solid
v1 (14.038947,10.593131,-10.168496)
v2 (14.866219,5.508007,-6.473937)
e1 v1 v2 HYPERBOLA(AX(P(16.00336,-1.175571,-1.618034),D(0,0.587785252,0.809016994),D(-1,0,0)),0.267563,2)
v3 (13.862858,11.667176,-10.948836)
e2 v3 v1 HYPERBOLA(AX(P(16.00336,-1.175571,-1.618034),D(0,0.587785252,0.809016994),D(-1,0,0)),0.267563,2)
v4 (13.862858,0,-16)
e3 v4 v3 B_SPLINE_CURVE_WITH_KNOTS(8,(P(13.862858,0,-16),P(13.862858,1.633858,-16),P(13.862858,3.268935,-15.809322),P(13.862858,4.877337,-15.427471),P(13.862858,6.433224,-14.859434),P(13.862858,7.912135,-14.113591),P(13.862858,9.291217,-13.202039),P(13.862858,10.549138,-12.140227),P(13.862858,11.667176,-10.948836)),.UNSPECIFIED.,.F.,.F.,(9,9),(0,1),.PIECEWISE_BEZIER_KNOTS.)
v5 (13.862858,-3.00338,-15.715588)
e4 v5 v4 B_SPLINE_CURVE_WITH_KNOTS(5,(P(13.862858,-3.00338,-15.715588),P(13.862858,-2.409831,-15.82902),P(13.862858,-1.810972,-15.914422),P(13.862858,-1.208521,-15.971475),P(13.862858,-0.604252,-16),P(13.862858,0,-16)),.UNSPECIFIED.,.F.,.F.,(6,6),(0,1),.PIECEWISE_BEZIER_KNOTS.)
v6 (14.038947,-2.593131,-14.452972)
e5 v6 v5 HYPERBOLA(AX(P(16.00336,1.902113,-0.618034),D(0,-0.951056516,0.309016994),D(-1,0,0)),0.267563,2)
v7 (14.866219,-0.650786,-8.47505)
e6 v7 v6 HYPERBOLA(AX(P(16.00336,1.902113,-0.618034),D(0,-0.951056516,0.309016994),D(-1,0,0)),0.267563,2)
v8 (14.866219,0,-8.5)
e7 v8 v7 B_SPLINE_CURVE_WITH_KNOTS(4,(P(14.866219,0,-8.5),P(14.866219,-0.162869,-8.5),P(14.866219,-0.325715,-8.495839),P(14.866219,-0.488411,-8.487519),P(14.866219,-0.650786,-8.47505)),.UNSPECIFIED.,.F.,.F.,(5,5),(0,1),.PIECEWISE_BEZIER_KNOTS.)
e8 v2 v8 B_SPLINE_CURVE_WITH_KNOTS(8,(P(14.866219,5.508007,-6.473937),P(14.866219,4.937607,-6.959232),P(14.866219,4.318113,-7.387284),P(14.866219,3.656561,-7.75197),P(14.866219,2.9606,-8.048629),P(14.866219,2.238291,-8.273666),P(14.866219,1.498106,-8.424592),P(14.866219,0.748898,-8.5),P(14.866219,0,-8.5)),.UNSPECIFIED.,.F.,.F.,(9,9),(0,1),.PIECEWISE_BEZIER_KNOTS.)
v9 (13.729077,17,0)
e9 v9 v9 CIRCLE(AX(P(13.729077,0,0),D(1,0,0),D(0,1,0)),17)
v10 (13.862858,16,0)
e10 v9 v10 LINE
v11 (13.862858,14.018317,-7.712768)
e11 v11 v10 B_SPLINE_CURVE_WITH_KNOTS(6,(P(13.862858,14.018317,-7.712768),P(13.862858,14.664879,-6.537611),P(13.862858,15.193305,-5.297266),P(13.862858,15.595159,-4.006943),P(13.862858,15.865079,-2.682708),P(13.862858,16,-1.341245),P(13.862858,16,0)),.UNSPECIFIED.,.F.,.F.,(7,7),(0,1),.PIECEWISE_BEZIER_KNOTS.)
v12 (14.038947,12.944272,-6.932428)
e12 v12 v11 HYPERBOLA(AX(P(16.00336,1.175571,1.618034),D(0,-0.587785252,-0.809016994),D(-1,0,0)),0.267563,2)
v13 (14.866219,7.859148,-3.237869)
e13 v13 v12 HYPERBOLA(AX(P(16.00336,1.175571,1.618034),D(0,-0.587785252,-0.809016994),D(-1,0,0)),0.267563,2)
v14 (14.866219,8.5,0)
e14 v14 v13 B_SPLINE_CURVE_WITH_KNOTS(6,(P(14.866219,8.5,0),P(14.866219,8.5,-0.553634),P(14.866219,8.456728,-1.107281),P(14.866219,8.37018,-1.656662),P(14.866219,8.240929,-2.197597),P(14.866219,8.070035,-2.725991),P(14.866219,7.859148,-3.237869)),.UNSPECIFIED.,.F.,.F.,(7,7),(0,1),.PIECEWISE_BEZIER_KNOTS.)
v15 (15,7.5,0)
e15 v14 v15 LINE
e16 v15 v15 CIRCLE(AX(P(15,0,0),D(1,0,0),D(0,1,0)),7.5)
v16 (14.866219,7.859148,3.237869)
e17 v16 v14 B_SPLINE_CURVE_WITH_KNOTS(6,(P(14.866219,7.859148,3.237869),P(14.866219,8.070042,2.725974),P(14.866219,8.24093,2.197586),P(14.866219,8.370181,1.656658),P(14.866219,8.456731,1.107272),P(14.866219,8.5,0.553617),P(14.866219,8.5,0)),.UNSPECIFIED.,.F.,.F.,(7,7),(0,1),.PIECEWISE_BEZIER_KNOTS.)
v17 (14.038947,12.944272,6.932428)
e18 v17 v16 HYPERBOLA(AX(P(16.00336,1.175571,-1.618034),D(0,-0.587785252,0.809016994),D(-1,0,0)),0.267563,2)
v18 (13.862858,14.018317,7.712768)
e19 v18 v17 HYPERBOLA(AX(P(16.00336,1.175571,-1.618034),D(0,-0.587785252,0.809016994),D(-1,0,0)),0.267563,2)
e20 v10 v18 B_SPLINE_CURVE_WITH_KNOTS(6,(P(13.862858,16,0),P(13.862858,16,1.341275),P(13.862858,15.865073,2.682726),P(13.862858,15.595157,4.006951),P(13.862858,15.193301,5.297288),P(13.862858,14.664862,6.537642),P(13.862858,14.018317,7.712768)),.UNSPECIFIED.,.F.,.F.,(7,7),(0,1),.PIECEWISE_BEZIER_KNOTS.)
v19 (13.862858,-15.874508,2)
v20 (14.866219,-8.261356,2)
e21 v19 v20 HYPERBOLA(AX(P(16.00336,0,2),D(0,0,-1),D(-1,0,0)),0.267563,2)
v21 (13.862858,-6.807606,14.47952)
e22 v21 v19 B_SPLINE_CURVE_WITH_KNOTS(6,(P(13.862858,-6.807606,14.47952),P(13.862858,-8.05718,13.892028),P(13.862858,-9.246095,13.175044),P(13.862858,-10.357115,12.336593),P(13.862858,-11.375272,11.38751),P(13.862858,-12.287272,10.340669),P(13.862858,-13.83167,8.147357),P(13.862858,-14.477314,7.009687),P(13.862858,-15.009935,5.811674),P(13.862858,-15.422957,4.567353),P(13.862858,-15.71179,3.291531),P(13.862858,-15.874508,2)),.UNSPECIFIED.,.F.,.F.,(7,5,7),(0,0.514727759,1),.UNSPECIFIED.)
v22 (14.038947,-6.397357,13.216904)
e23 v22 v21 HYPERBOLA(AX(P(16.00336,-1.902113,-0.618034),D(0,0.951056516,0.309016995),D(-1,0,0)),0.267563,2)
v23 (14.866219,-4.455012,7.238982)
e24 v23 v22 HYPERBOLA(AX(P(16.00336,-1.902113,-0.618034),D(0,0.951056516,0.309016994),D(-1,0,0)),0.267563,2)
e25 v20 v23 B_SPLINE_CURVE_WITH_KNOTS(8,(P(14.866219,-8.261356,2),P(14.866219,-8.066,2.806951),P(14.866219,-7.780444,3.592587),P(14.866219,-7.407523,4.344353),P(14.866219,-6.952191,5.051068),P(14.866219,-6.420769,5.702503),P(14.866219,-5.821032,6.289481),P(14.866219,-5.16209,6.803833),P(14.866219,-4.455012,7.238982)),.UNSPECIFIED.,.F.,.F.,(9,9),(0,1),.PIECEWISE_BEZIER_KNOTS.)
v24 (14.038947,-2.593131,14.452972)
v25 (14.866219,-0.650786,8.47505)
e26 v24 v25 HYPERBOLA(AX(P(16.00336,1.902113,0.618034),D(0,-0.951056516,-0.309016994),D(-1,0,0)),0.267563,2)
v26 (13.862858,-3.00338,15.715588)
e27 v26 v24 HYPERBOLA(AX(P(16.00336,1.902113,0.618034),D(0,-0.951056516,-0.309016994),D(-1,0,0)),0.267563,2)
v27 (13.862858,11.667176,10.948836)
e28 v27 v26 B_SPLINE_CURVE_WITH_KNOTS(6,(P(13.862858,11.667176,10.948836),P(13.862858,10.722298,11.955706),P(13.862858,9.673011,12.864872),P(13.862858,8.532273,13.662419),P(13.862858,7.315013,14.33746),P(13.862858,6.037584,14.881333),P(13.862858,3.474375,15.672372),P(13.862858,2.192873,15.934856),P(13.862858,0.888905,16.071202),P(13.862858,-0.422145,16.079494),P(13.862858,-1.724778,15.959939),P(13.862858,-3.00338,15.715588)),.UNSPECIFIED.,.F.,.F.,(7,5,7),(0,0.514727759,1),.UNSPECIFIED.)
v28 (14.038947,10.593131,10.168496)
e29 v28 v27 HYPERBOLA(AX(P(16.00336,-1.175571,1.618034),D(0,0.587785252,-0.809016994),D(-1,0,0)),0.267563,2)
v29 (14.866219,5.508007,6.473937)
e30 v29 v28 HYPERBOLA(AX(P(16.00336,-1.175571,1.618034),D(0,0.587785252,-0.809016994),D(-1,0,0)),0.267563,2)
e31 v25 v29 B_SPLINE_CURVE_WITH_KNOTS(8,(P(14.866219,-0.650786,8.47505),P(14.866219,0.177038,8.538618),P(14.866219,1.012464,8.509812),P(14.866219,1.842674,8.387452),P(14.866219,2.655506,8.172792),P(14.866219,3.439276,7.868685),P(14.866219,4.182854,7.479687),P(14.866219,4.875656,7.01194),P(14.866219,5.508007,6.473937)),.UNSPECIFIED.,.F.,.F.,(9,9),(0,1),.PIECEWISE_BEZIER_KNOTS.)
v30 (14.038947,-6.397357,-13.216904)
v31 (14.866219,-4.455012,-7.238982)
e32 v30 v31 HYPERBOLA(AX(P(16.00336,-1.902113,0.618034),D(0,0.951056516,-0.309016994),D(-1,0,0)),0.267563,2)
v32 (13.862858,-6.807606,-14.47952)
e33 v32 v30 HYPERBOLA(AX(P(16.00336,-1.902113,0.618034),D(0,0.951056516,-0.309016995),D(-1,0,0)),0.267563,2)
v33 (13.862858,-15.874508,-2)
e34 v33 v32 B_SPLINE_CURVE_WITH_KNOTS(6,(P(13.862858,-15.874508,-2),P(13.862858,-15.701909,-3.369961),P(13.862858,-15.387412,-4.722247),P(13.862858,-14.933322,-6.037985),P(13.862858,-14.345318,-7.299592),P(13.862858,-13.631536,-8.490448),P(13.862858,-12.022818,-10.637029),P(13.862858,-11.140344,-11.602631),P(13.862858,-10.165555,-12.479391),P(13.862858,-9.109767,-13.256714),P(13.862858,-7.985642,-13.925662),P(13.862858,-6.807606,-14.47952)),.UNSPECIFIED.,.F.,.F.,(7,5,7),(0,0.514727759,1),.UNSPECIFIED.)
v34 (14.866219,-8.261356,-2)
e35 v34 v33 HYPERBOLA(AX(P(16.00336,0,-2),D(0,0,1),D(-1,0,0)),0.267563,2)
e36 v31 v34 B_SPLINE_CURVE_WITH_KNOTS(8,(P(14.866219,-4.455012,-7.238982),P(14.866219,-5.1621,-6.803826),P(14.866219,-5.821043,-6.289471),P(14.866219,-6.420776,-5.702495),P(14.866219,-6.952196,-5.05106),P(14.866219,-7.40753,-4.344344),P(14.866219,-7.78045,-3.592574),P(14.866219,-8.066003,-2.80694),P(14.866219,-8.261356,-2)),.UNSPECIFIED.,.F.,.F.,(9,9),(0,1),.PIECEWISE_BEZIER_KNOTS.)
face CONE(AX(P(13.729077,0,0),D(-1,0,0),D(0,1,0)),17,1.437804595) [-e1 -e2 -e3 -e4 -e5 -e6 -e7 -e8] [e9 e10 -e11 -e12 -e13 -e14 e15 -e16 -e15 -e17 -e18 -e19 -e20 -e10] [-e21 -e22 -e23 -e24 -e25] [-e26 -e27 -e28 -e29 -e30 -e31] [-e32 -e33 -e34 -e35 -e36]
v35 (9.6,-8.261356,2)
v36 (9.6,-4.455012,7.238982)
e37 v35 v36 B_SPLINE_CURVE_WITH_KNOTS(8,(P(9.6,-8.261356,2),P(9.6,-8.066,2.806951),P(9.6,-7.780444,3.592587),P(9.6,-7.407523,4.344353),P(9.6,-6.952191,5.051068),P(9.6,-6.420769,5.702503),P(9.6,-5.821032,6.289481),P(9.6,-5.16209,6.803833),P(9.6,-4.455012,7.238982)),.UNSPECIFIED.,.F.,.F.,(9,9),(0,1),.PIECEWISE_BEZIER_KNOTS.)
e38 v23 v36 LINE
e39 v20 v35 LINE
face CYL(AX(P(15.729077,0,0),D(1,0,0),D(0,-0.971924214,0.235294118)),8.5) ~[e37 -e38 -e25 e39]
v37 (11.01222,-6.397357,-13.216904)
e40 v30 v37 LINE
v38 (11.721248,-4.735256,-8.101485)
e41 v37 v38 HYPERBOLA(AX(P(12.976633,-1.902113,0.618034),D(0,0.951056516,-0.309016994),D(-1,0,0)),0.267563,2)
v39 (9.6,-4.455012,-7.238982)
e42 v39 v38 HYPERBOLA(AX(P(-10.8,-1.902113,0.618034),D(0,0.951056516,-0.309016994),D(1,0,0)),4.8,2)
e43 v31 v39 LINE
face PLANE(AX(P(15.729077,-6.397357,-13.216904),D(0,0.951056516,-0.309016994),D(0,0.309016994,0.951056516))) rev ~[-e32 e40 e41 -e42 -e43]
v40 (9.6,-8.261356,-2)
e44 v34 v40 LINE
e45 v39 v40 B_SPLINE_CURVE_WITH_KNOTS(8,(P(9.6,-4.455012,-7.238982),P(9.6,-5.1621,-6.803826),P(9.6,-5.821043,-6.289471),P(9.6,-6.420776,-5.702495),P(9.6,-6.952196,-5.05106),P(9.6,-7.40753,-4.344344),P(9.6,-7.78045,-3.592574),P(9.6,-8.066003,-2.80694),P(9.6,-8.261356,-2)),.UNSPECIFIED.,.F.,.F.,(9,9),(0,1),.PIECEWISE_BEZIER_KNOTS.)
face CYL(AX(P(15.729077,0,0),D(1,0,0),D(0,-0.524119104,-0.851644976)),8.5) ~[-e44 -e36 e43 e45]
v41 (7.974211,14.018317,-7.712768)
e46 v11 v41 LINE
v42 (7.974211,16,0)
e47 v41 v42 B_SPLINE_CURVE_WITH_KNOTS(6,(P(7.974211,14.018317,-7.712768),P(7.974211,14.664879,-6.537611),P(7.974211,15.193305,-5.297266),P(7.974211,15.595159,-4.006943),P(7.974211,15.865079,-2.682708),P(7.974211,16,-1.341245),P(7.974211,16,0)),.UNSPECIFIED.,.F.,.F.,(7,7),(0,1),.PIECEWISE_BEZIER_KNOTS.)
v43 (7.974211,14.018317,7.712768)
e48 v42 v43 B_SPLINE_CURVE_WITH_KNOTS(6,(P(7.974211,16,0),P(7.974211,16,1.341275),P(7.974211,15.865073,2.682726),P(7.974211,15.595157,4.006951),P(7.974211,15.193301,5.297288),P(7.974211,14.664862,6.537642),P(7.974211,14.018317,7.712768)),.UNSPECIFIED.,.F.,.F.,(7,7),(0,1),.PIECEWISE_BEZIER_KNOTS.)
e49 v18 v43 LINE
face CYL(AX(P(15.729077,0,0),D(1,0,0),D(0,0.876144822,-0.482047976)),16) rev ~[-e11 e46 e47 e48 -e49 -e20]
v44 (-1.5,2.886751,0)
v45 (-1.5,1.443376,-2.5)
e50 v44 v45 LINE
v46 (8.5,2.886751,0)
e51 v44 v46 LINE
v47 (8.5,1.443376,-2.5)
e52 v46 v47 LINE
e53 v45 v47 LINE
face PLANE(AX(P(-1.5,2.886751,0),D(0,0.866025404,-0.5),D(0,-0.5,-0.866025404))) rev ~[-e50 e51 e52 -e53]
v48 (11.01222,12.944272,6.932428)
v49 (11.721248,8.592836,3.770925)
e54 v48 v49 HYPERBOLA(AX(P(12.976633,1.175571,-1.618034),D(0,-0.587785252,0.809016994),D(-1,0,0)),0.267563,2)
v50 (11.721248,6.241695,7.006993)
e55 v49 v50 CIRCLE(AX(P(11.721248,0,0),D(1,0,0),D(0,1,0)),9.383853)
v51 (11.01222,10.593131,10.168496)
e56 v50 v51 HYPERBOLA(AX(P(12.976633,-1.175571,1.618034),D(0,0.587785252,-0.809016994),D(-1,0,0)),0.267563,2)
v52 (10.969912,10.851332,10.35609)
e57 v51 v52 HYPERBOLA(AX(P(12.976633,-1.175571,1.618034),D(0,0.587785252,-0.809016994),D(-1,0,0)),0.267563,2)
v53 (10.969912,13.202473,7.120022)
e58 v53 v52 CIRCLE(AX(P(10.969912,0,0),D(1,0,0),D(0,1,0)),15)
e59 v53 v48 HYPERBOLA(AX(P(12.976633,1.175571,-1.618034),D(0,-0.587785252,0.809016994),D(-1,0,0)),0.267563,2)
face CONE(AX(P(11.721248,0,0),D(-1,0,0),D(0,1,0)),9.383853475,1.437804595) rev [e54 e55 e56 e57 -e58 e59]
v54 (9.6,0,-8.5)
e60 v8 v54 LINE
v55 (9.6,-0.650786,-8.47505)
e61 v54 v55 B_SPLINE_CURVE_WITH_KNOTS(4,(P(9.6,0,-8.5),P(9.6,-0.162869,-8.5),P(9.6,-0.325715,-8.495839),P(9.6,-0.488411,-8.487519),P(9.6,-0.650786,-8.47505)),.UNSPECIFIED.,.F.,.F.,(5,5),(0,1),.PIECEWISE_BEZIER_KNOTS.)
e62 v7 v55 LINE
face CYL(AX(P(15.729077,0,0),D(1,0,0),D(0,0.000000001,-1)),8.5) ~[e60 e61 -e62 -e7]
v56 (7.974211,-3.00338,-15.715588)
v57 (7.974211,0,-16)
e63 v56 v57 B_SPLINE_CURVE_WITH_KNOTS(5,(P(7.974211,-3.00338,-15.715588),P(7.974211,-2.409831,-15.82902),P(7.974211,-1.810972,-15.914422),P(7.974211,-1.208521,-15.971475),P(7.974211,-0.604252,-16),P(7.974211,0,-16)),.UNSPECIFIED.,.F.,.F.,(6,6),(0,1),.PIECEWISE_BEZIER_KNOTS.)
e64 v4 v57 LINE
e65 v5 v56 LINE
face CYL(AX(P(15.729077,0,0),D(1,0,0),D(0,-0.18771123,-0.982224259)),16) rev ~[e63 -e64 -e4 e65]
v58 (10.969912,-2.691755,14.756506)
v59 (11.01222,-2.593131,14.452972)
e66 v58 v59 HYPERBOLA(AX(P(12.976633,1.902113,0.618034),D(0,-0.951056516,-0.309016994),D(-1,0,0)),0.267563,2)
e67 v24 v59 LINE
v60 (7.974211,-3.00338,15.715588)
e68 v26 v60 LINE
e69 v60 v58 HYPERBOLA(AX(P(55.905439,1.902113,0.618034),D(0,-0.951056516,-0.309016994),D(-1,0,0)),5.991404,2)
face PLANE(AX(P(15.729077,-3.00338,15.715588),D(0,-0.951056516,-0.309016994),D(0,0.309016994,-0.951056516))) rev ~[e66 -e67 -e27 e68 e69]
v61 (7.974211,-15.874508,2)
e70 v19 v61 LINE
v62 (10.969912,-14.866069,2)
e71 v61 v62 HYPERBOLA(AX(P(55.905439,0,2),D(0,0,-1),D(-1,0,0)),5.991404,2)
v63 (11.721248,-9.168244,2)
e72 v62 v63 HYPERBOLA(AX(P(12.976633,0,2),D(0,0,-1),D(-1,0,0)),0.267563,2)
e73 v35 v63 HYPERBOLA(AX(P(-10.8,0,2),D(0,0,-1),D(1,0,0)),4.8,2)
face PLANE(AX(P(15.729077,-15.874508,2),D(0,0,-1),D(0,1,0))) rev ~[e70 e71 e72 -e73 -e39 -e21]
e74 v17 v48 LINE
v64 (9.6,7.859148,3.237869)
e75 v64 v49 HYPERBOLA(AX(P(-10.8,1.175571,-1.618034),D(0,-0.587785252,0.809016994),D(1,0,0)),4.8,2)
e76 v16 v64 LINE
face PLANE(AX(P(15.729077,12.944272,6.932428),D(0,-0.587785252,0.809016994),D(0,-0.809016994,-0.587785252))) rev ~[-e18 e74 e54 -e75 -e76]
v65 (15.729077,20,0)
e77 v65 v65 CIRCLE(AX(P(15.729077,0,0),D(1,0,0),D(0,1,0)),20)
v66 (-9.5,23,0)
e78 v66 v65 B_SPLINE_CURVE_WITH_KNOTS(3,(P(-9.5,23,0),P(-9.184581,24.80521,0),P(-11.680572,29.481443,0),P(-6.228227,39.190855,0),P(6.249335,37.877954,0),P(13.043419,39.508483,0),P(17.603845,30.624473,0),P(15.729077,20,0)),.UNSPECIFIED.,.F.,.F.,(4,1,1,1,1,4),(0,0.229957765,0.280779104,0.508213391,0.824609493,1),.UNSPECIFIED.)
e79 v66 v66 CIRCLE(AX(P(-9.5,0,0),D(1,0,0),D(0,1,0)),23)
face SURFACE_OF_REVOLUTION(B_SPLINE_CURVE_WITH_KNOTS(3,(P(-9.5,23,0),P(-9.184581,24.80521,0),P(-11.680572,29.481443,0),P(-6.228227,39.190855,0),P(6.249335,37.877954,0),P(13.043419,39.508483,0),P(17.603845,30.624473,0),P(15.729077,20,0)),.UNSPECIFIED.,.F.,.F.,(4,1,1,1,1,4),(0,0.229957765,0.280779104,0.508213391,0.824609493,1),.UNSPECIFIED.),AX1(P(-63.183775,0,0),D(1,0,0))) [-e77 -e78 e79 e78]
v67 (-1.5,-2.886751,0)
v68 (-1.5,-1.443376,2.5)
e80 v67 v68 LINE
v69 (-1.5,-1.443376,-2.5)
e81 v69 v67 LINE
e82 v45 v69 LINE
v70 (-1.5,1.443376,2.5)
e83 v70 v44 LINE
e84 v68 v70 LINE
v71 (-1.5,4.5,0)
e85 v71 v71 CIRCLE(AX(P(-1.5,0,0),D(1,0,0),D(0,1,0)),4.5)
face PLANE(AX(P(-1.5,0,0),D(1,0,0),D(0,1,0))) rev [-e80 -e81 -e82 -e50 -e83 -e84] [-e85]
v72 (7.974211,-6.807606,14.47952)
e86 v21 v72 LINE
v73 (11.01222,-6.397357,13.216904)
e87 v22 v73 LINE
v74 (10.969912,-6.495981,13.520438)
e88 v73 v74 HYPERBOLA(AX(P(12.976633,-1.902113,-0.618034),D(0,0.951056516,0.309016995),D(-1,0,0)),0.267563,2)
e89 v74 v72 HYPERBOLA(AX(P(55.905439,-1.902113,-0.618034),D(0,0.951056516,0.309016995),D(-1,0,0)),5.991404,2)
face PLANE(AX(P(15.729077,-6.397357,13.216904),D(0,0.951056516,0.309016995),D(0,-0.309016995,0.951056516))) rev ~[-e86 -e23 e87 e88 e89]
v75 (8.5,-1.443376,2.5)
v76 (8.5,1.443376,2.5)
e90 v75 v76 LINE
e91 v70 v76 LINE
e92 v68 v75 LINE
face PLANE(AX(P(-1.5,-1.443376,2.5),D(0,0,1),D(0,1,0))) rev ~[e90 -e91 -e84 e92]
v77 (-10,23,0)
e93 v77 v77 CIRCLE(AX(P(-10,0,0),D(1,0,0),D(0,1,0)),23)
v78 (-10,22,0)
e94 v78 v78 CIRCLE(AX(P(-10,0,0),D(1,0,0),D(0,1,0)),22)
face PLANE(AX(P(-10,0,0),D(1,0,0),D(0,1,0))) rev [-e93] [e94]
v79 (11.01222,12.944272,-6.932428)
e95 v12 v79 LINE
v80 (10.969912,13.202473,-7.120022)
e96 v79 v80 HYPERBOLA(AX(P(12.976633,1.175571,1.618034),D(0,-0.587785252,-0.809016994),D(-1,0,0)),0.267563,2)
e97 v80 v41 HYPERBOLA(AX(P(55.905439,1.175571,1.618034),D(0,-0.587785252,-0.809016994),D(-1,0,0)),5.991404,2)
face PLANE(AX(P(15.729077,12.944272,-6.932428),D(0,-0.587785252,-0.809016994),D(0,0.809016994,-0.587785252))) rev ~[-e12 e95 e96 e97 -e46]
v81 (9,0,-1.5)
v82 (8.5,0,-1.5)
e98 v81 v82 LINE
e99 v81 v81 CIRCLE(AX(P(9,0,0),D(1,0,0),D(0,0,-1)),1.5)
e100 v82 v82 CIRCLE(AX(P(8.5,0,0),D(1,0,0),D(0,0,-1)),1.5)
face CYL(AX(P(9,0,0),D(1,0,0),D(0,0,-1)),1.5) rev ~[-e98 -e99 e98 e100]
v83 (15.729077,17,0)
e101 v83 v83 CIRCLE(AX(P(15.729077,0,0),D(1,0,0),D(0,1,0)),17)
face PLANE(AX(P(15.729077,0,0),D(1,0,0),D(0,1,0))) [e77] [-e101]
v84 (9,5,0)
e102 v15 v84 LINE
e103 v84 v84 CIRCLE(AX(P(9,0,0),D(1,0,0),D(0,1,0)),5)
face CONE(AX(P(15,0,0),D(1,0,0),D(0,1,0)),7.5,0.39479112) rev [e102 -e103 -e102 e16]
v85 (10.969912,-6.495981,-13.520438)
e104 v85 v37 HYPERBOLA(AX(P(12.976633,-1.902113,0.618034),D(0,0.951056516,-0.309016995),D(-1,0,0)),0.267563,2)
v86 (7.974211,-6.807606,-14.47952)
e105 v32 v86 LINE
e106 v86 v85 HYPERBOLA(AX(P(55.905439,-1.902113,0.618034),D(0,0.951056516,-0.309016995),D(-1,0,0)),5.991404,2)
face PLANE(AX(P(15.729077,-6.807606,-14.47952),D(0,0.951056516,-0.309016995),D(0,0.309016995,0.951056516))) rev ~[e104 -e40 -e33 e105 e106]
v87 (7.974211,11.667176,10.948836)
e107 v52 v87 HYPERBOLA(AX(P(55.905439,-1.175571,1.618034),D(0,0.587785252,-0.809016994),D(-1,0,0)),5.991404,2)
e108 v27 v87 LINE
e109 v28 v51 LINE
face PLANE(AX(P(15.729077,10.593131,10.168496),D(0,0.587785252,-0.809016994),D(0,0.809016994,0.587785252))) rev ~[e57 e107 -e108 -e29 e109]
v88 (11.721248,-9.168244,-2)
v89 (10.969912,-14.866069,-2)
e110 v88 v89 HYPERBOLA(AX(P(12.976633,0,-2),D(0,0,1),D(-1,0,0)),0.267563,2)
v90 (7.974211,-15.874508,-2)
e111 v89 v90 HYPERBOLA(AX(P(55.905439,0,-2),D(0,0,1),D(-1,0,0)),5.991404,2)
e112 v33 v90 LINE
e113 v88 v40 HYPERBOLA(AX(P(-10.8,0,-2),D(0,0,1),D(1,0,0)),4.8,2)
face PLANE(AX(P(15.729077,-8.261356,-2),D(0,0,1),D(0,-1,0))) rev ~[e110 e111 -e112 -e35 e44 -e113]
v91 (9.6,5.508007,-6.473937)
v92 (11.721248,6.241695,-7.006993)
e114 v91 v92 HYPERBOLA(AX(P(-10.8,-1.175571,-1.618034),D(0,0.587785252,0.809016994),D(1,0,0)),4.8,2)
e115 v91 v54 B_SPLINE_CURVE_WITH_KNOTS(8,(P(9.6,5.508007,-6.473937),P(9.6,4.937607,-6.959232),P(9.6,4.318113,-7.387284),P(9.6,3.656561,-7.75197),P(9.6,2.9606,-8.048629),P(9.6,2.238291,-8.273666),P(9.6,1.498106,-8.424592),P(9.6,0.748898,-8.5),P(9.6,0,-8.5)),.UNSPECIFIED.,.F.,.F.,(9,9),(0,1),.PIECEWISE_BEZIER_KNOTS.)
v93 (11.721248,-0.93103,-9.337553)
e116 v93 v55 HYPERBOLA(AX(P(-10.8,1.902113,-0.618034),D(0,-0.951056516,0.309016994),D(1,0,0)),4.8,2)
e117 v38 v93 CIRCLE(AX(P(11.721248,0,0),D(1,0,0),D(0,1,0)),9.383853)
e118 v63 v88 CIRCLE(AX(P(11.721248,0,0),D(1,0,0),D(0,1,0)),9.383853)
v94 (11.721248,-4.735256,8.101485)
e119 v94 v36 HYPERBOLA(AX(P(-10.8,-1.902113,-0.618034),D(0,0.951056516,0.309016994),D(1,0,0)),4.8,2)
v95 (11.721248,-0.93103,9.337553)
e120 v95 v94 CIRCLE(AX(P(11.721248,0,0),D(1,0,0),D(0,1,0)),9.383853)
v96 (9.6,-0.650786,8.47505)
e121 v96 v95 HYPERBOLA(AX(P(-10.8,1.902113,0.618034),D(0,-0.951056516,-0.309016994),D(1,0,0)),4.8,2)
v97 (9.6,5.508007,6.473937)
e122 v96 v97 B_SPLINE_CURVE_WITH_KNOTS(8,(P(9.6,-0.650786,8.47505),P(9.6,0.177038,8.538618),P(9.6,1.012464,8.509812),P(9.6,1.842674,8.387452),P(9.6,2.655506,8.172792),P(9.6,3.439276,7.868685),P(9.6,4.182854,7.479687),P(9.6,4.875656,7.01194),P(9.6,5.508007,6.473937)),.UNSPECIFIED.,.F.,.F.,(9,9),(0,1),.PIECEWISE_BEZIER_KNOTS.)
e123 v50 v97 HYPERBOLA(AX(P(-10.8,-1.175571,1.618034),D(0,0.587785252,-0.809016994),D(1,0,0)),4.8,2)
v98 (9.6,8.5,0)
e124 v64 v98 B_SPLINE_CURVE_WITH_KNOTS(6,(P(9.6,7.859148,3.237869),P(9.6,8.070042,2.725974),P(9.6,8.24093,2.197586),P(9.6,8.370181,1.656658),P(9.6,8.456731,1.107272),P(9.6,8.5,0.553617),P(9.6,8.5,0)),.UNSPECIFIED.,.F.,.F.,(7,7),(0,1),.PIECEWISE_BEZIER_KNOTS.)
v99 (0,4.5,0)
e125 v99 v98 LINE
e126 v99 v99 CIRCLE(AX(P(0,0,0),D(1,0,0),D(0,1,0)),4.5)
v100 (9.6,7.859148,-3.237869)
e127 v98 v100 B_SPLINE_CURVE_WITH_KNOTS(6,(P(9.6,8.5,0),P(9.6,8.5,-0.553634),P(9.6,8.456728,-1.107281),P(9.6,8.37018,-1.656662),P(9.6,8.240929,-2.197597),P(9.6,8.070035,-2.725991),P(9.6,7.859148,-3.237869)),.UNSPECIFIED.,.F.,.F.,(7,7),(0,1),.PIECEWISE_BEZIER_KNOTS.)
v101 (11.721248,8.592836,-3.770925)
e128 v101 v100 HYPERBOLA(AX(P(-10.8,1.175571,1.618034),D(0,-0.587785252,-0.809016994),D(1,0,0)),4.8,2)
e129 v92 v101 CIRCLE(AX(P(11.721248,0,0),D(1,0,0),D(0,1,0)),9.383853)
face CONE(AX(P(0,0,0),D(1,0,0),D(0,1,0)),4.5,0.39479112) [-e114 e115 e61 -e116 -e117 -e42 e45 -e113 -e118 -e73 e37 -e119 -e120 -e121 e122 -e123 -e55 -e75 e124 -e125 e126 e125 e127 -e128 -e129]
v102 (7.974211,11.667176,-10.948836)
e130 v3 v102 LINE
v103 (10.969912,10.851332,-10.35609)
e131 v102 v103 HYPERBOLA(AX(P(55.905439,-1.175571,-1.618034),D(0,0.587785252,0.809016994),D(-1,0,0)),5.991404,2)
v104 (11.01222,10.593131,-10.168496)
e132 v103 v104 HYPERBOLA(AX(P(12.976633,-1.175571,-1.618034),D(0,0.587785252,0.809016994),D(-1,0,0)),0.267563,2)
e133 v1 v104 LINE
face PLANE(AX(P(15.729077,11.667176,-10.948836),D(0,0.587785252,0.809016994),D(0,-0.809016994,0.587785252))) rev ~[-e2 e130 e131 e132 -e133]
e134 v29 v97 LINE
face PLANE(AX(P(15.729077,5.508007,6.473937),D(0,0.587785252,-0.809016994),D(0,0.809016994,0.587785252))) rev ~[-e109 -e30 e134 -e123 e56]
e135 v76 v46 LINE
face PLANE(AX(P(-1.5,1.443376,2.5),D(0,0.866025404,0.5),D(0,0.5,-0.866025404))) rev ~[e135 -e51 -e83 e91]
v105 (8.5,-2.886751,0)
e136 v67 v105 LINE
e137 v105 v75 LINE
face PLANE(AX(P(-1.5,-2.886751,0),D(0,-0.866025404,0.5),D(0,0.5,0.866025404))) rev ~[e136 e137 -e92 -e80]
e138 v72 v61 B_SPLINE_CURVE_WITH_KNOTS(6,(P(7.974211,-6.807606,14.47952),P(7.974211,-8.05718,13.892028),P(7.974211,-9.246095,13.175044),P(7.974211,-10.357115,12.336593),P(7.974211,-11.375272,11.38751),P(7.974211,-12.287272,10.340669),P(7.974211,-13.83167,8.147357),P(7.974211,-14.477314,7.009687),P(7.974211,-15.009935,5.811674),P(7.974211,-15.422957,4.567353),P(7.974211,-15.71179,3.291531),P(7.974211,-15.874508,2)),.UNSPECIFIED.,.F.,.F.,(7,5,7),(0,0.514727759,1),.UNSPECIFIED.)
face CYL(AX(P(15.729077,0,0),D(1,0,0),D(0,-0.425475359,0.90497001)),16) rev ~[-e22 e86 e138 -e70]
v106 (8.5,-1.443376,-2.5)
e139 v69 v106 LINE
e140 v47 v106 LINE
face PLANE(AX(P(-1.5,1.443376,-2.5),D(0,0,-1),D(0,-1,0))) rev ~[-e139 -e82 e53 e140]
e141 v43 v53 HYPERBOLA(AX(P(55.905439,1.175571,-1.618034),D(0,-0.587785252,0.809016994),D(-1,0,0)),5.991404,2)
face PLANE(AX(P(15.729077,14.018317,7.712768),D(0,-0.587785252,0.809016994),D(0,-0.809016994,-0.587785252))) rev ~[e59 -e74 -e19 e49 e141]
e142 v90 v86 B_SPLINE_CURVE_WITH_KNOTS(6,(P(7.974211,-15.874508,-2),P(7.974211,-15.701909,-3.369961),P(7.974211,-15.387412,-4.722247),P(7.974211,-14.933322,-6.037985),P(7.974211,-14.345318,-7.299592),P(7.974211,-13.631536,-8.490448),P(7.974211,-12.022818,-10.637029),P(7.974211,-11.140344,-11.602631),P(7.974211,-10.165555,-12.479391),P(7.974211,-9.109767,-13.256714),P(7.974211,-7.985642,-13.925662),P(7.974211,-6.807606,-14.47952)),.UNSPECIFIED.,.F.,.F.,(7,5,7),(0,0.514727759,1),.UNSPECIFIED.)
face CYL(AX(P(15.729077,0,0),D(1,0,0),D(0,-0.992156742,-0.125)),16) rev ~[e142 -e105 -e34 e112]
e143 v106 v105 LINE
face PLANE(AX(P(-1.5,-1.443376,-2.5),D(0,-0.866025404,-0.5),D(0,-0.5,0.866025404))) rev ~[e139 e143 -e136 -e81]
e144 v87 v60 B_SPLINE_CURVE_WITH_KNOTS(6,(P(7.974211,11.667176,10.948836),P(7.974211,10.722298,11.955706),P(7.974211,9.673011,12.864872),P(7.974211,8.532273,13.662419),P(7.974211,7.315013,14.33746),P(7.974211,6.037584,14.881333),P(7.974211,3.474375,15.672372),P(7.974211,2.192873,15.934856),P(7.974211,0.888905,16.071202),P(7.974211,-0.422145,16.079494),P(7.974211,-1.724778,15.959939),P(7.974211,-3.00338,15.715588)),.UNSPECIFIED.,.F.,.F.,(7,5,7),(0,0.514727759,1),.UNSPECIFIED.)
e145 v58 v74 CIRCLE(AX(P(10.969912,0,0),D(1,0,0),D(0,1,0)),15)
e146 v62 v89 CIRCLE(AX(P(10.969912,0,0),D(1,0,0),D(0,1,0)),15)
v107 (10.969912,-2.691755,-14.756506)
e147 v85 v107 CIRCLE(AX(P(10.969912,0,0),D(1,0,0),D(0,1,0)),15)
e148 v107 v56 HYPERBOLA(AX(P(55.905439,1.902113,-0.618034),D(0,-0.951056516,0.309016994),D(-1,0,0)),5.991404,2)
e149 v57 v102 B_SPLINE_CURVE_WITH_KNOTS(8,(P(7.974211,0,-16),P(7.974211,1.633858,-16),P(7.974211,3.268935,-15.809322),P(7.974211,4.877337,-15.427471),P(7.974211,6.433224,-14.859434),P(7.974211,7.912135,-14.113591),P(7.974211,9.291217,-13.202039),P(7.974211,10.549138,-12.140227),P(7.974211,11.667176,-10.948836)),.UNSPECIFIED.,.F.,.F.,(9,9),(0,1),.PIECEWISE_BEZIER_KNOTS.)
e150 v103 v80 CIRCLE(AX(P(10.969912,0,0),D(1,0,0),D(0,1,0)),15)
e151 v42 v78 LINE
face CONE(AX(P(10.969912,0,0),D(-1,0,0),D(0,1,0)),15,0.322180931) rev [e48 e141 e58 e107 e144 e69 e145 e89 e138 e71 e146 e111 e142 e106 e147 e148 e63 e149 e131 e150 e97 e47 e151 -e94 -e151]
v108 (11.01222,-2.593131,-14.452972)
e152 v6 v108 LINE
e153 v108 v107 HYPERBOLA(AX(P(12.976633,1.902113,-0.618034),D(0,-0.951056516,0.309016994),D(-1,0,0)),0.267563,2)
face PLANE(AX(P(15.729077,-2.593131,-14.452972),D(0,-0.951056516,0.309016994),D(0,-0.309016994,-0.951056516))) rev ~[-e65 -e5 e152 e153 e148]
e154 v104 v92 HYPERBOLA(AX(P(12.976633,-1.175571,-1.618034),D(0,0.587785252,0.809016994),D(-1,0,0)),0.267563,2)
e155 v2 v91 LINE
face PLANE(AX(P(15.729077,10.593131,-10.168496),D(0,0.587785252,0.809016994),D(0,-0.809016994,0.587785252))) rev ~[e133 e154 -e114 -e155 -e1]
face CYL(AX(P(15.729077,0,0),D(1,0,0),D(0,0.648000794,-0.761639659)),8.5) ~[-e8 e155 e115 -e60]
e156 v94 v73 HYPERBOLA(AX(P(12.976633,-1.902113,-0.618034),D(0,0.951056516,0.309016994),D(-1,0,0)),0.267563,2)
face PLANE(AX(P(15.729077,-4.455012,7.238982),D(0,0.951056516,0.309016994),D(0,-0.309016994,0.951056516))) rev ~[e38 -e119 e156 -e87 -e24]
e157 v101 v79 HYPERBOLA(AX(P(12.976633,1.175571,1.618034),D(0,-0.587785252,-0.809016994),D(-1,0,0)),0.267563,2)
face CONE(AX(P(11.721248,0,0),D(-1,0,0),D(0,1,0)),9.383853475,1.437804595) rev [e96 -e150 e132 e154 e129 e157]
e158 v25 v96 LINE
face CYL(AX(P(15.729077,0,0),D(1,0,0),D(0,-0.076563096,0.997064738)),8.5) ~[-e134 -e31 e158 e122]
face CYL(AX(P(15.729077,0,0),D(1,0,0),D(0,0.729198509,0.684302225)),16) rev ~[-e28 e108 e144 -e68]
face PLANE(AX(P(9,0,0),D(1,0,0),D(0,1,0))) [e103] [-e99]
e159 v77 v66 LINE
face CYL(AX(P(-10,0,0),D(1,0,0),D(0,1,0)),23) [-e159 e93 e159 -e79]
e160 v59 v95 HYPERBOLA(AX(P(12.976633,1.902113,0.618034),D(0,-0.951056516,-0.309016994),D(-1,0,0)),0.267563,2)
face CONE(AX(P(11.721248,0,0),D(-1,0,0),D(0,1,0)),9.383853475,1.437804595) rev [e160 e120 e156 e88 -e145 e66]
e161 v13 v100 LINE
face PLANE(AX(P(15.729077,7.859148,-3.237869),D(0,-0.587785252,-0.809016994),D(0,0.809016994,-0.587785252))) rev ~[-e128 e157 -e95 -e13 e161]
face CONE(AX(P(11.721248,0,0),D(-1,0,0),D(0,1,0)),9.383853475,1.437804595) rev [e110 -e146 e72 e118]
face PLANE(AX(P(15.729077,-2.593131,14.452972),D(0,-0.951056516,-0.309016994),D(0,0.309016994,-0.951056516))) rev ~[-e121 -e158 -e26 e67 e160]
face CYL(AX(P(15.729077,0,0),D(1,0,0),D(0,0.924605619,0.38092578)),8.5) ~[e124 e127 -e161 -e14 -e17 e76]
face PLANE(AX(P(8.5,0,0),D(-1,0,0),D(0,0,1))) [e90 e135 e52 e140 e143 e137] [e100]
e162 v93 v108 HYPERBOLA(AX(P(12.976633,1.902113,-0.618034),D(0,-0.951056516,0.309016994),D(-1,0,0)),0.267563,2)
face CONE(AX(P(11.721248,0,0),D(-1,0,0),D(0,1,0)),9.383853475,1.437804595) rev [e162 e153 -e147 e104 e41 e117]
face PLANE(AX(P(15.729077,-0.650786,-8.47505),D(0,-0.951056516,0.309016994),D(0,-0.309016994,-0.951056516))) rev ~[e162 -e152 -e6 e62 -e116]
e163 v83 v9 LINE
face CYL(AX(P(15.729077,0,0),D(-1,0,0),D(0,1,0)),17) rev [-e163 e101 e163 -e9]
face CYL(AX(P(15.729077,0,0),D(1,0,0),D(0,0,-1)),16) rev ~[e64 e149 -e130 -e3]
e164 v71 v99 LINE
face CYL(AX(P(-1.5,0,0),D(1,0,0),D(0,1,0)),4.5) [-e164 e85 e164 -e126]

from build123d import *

# Parameters (mm, degrees)
CUT_EXTRUDE1_REACH = 21.23
SKETCH3_R          = 1.5
CUT_EXTRUDE2_DEPTH = 26.95888467
CUT_EXTRUDE3_DEPTH = 10


with BuildPart() as part:
    # Sketch2 → Revolve1 (revolve)
    with BuildSketch(Plane.XY):
        with BuildLine():
            Line((0, 4.5), (11.721248341, 9.383853475))
            Line((11.721248341, 9.383853475), (10.96991248, 15))
            Line((10.96991248, 15), (-10, 22))
            Line((-10, 22), (-10, 23))
            Line((-10, 23), (-9.5, 23))
            add(Edge.make_bspline(
                [(-9.5, 23), (-9.184580705, 24.805210342), (-11.680572374, 29.481442907), (-6.228226752, 39.190854706), (6.249334684, 37.877953806), (13.043419089, 39.508483339), (17.603844738, 30.624473337), (15.729076842, 20)],
                knots=[0, 0, 0, 0, 0.229957765, 0.280779104, 0.508213391, 0.824609493, 1, 1, 1, 1], degree=3))
            Line((15.729076842, 20), (15.729076842, 17))
            Line((15.729076842, 17), (13.729076842, 17))
            Line((13.729076842, 17), (15, 7.5))
            Line((15, 7.5), (9, 5))
            Line((9, 5), (9, 0))
            Line((9, 0), (-1.5, 0))
            Line((-1.5, 0), (-1.5, 4.5))
            Line((-1.5, 4.5), (0, 4.5))
        make_face()
    revolve(axis=Axis((-63.183775164, 0, 0), (1, 0, 0)))

    # Sketch3 → Cut-Extrude1 (cut, up to next)
    with BuildSketch(Plane(origin=(9, 0, 0), x_dir=(0, 0, -1), z_dir=(1, 0, 0)), mode=Mode.PRIVATE) as cut_extrude1_sk1:
        Circle(SKETCH3_R)
    cut_extrude1_tool1 = extrude(cut_extrude1_sk1.sketch, amount=-CUT_EXTRUDE1_REACH, mode=Mode.PRIVATE) & part.part
    add(cut_extrude1_tool1.solids().sort_by_distance((9, 0, 0))[0], mode=Mode.SUBTRACT)

    # Sketch4 → Cut-Extrude2 (cut, through all)
    with BuildSketch(Plane(origin=(15.729076842, 0, 0), x_dir=(0, 0, -1), z_dir=(1, 0, 0))):
        with BuildLine():
            Line((-6.932428082, 12.94427191), (6.932428082, 12.94427191))
            Line((6.932428082, 12.94427191), (7.712767623, 14.018317146))
            ThreePointArc((7.712767623, 14.018317146), (0, 16), (-7.712767623, 14.018317146))
            Line((-7.712767623, 14.018317146), (-6.932428082, 12.94427191))
        make_face()
        with BuildLine():
            Line((-6.932428082, 12.94427191), (-3.237869127, 7.85914776))
            ThreePointArc((-3.237869127, 7.85914776), (0, 8.5), (3.237869127, 7.85914776))
            Line((3.237869127, 7.85914776), (6.932428082, 12.94427191))
            Line((6.932428082, 12.94427191), (-6.932428082, 12.94427191))
        make_face()
        with BuildLine():
            Line((10.168496059, 10.593130901), (14.452972238, -2.593130901))
            Line((14.452972238, -2.593130901), (15.715588138, -3.003379675))
            ThreePointArc((15.715588138, -3.003379675), (15.92873834, -1.508408067), (16, 0))
            ThreePointArc((16, 0), (14.683006668, 6.356832167), (10.9488356, 11.667176137))
            Line((10.9488356, 11.667176137), (10.168496059, 10.593130901))
        make_face()
        with BuildLine():
            Line((8.475050276, -0.650786313), (14.452972238, -2.593130901))
            Line((14.452972238, -2.593130901), (10.168496059, 10.593130901))
            Line((10.168496059, 10.593130901), (6.473937104, 5.508006751))
            ThreePointArc((6.473937104, 5.508006751), (7.977420178, 2.934410896), (8.5, 0))
            ThreePointArc((8.5, 0), (8.493760279, -0.325632198), (8.475050276, -0.650786313))
        make_face()
        with BuildLine():
            Line((13.216904261, -6.397356966), (2, -14.546914944))
            Line((2, -14.546914944), (2, -15.874507866))
            ThreePointArc((2, -15.874507866), (9.404564037, -12.94427191), (14.479520161, -6.807605741))
            Line((14.479520161, -6.807605741), (13.216904261, -6.397356966))
        make_face()
        with BuildLine():
            Line((2, -8.261355821), (2, -14.546914944))
            Line((2, -14.546914944), (13.216904261, -6.397356966))
            Line((13.216904261, -6.397356966), (7.238982298, -4.455012378))
            ThreePointArc((7.238982298, -4.455012378), (4.996174644, -6.876644452), (2, -8.261355821))
        make_face()
        with BuildLine():
            Line((-2, -15.874507866), (-2, -14.546914944))
            Line((-2, -14.546914944), (-13.216904261, -6.397356966))
            Line((-13.216904261, -6.397356966), (-14.479520161, -6.807605741))
            ThreePointArc((-14.479520161, -6.807605741), (-9.404564037, -12.94427191), (-2, -15.874507866))
        make_face()
        with BuildLine():
            Line((-13.216904261, -6.397356966), (-2, -14.546914944))
            Line((-2, -14.546914944), (-2, -8.261355821))
            ThreePointArc((-2, -8.261355821), (-4.996174644, -6.876644452), (-7.238982298, -4.455012378))
            Line((-7.238982298, -4.455012378), (-13.216904261, -6.397356966))
        make_face()
        with BuildLine():
            Line((-15.715588138, -3.003379675), (-14.452972238, -2.593130901))
            Line((-14.452972238, -2.593130901), (-10.168496059, 10.593130901))
            Line((-10.168496059, 10.593130901), (-10.9488356, 11.667176137))
            ThreePointArc((-10.9488356, 11.667176137), (-15.216904261, 4.94427191), (-15.715588138, -3.003379675))
        make_face()
        with BuildLine():
            Line((-10.168496059, 10.593130901), (-14.452972238, -2.593130901))
            Line((-14.452972238, -2.593130901), (-8.475050276, -0.650786313))
            ThreePointArc((-8.475050276, -0.650786313), (-8.083980389, 2.626644452), (-6.473937104, 5.508006751))
            Line((-6.473937104, 5.508006751), (-10.168496059, 10.593130901))
        make_face()
    extrude(amount=-CUT_EXTRUDE2_DEPTH, mode=Mode.SUBTRACT)

    # Sketch5 → Cut-Extrude3 (cut)
    with BuildSketch(Plane.ZY.offset(1.5)):
        Polygon((0, -2.886751346), (2.5, -1.443375673), (2.5, 1.443375673), (0, 2.886751346), (-2.5, 1.443375673), (-2.5, -1.443375673), align=None)
    extrude(amount=-CUT_EXTRUDE3_DEPTH, mode=Mode.SUBTRACT)


solid = part.part
